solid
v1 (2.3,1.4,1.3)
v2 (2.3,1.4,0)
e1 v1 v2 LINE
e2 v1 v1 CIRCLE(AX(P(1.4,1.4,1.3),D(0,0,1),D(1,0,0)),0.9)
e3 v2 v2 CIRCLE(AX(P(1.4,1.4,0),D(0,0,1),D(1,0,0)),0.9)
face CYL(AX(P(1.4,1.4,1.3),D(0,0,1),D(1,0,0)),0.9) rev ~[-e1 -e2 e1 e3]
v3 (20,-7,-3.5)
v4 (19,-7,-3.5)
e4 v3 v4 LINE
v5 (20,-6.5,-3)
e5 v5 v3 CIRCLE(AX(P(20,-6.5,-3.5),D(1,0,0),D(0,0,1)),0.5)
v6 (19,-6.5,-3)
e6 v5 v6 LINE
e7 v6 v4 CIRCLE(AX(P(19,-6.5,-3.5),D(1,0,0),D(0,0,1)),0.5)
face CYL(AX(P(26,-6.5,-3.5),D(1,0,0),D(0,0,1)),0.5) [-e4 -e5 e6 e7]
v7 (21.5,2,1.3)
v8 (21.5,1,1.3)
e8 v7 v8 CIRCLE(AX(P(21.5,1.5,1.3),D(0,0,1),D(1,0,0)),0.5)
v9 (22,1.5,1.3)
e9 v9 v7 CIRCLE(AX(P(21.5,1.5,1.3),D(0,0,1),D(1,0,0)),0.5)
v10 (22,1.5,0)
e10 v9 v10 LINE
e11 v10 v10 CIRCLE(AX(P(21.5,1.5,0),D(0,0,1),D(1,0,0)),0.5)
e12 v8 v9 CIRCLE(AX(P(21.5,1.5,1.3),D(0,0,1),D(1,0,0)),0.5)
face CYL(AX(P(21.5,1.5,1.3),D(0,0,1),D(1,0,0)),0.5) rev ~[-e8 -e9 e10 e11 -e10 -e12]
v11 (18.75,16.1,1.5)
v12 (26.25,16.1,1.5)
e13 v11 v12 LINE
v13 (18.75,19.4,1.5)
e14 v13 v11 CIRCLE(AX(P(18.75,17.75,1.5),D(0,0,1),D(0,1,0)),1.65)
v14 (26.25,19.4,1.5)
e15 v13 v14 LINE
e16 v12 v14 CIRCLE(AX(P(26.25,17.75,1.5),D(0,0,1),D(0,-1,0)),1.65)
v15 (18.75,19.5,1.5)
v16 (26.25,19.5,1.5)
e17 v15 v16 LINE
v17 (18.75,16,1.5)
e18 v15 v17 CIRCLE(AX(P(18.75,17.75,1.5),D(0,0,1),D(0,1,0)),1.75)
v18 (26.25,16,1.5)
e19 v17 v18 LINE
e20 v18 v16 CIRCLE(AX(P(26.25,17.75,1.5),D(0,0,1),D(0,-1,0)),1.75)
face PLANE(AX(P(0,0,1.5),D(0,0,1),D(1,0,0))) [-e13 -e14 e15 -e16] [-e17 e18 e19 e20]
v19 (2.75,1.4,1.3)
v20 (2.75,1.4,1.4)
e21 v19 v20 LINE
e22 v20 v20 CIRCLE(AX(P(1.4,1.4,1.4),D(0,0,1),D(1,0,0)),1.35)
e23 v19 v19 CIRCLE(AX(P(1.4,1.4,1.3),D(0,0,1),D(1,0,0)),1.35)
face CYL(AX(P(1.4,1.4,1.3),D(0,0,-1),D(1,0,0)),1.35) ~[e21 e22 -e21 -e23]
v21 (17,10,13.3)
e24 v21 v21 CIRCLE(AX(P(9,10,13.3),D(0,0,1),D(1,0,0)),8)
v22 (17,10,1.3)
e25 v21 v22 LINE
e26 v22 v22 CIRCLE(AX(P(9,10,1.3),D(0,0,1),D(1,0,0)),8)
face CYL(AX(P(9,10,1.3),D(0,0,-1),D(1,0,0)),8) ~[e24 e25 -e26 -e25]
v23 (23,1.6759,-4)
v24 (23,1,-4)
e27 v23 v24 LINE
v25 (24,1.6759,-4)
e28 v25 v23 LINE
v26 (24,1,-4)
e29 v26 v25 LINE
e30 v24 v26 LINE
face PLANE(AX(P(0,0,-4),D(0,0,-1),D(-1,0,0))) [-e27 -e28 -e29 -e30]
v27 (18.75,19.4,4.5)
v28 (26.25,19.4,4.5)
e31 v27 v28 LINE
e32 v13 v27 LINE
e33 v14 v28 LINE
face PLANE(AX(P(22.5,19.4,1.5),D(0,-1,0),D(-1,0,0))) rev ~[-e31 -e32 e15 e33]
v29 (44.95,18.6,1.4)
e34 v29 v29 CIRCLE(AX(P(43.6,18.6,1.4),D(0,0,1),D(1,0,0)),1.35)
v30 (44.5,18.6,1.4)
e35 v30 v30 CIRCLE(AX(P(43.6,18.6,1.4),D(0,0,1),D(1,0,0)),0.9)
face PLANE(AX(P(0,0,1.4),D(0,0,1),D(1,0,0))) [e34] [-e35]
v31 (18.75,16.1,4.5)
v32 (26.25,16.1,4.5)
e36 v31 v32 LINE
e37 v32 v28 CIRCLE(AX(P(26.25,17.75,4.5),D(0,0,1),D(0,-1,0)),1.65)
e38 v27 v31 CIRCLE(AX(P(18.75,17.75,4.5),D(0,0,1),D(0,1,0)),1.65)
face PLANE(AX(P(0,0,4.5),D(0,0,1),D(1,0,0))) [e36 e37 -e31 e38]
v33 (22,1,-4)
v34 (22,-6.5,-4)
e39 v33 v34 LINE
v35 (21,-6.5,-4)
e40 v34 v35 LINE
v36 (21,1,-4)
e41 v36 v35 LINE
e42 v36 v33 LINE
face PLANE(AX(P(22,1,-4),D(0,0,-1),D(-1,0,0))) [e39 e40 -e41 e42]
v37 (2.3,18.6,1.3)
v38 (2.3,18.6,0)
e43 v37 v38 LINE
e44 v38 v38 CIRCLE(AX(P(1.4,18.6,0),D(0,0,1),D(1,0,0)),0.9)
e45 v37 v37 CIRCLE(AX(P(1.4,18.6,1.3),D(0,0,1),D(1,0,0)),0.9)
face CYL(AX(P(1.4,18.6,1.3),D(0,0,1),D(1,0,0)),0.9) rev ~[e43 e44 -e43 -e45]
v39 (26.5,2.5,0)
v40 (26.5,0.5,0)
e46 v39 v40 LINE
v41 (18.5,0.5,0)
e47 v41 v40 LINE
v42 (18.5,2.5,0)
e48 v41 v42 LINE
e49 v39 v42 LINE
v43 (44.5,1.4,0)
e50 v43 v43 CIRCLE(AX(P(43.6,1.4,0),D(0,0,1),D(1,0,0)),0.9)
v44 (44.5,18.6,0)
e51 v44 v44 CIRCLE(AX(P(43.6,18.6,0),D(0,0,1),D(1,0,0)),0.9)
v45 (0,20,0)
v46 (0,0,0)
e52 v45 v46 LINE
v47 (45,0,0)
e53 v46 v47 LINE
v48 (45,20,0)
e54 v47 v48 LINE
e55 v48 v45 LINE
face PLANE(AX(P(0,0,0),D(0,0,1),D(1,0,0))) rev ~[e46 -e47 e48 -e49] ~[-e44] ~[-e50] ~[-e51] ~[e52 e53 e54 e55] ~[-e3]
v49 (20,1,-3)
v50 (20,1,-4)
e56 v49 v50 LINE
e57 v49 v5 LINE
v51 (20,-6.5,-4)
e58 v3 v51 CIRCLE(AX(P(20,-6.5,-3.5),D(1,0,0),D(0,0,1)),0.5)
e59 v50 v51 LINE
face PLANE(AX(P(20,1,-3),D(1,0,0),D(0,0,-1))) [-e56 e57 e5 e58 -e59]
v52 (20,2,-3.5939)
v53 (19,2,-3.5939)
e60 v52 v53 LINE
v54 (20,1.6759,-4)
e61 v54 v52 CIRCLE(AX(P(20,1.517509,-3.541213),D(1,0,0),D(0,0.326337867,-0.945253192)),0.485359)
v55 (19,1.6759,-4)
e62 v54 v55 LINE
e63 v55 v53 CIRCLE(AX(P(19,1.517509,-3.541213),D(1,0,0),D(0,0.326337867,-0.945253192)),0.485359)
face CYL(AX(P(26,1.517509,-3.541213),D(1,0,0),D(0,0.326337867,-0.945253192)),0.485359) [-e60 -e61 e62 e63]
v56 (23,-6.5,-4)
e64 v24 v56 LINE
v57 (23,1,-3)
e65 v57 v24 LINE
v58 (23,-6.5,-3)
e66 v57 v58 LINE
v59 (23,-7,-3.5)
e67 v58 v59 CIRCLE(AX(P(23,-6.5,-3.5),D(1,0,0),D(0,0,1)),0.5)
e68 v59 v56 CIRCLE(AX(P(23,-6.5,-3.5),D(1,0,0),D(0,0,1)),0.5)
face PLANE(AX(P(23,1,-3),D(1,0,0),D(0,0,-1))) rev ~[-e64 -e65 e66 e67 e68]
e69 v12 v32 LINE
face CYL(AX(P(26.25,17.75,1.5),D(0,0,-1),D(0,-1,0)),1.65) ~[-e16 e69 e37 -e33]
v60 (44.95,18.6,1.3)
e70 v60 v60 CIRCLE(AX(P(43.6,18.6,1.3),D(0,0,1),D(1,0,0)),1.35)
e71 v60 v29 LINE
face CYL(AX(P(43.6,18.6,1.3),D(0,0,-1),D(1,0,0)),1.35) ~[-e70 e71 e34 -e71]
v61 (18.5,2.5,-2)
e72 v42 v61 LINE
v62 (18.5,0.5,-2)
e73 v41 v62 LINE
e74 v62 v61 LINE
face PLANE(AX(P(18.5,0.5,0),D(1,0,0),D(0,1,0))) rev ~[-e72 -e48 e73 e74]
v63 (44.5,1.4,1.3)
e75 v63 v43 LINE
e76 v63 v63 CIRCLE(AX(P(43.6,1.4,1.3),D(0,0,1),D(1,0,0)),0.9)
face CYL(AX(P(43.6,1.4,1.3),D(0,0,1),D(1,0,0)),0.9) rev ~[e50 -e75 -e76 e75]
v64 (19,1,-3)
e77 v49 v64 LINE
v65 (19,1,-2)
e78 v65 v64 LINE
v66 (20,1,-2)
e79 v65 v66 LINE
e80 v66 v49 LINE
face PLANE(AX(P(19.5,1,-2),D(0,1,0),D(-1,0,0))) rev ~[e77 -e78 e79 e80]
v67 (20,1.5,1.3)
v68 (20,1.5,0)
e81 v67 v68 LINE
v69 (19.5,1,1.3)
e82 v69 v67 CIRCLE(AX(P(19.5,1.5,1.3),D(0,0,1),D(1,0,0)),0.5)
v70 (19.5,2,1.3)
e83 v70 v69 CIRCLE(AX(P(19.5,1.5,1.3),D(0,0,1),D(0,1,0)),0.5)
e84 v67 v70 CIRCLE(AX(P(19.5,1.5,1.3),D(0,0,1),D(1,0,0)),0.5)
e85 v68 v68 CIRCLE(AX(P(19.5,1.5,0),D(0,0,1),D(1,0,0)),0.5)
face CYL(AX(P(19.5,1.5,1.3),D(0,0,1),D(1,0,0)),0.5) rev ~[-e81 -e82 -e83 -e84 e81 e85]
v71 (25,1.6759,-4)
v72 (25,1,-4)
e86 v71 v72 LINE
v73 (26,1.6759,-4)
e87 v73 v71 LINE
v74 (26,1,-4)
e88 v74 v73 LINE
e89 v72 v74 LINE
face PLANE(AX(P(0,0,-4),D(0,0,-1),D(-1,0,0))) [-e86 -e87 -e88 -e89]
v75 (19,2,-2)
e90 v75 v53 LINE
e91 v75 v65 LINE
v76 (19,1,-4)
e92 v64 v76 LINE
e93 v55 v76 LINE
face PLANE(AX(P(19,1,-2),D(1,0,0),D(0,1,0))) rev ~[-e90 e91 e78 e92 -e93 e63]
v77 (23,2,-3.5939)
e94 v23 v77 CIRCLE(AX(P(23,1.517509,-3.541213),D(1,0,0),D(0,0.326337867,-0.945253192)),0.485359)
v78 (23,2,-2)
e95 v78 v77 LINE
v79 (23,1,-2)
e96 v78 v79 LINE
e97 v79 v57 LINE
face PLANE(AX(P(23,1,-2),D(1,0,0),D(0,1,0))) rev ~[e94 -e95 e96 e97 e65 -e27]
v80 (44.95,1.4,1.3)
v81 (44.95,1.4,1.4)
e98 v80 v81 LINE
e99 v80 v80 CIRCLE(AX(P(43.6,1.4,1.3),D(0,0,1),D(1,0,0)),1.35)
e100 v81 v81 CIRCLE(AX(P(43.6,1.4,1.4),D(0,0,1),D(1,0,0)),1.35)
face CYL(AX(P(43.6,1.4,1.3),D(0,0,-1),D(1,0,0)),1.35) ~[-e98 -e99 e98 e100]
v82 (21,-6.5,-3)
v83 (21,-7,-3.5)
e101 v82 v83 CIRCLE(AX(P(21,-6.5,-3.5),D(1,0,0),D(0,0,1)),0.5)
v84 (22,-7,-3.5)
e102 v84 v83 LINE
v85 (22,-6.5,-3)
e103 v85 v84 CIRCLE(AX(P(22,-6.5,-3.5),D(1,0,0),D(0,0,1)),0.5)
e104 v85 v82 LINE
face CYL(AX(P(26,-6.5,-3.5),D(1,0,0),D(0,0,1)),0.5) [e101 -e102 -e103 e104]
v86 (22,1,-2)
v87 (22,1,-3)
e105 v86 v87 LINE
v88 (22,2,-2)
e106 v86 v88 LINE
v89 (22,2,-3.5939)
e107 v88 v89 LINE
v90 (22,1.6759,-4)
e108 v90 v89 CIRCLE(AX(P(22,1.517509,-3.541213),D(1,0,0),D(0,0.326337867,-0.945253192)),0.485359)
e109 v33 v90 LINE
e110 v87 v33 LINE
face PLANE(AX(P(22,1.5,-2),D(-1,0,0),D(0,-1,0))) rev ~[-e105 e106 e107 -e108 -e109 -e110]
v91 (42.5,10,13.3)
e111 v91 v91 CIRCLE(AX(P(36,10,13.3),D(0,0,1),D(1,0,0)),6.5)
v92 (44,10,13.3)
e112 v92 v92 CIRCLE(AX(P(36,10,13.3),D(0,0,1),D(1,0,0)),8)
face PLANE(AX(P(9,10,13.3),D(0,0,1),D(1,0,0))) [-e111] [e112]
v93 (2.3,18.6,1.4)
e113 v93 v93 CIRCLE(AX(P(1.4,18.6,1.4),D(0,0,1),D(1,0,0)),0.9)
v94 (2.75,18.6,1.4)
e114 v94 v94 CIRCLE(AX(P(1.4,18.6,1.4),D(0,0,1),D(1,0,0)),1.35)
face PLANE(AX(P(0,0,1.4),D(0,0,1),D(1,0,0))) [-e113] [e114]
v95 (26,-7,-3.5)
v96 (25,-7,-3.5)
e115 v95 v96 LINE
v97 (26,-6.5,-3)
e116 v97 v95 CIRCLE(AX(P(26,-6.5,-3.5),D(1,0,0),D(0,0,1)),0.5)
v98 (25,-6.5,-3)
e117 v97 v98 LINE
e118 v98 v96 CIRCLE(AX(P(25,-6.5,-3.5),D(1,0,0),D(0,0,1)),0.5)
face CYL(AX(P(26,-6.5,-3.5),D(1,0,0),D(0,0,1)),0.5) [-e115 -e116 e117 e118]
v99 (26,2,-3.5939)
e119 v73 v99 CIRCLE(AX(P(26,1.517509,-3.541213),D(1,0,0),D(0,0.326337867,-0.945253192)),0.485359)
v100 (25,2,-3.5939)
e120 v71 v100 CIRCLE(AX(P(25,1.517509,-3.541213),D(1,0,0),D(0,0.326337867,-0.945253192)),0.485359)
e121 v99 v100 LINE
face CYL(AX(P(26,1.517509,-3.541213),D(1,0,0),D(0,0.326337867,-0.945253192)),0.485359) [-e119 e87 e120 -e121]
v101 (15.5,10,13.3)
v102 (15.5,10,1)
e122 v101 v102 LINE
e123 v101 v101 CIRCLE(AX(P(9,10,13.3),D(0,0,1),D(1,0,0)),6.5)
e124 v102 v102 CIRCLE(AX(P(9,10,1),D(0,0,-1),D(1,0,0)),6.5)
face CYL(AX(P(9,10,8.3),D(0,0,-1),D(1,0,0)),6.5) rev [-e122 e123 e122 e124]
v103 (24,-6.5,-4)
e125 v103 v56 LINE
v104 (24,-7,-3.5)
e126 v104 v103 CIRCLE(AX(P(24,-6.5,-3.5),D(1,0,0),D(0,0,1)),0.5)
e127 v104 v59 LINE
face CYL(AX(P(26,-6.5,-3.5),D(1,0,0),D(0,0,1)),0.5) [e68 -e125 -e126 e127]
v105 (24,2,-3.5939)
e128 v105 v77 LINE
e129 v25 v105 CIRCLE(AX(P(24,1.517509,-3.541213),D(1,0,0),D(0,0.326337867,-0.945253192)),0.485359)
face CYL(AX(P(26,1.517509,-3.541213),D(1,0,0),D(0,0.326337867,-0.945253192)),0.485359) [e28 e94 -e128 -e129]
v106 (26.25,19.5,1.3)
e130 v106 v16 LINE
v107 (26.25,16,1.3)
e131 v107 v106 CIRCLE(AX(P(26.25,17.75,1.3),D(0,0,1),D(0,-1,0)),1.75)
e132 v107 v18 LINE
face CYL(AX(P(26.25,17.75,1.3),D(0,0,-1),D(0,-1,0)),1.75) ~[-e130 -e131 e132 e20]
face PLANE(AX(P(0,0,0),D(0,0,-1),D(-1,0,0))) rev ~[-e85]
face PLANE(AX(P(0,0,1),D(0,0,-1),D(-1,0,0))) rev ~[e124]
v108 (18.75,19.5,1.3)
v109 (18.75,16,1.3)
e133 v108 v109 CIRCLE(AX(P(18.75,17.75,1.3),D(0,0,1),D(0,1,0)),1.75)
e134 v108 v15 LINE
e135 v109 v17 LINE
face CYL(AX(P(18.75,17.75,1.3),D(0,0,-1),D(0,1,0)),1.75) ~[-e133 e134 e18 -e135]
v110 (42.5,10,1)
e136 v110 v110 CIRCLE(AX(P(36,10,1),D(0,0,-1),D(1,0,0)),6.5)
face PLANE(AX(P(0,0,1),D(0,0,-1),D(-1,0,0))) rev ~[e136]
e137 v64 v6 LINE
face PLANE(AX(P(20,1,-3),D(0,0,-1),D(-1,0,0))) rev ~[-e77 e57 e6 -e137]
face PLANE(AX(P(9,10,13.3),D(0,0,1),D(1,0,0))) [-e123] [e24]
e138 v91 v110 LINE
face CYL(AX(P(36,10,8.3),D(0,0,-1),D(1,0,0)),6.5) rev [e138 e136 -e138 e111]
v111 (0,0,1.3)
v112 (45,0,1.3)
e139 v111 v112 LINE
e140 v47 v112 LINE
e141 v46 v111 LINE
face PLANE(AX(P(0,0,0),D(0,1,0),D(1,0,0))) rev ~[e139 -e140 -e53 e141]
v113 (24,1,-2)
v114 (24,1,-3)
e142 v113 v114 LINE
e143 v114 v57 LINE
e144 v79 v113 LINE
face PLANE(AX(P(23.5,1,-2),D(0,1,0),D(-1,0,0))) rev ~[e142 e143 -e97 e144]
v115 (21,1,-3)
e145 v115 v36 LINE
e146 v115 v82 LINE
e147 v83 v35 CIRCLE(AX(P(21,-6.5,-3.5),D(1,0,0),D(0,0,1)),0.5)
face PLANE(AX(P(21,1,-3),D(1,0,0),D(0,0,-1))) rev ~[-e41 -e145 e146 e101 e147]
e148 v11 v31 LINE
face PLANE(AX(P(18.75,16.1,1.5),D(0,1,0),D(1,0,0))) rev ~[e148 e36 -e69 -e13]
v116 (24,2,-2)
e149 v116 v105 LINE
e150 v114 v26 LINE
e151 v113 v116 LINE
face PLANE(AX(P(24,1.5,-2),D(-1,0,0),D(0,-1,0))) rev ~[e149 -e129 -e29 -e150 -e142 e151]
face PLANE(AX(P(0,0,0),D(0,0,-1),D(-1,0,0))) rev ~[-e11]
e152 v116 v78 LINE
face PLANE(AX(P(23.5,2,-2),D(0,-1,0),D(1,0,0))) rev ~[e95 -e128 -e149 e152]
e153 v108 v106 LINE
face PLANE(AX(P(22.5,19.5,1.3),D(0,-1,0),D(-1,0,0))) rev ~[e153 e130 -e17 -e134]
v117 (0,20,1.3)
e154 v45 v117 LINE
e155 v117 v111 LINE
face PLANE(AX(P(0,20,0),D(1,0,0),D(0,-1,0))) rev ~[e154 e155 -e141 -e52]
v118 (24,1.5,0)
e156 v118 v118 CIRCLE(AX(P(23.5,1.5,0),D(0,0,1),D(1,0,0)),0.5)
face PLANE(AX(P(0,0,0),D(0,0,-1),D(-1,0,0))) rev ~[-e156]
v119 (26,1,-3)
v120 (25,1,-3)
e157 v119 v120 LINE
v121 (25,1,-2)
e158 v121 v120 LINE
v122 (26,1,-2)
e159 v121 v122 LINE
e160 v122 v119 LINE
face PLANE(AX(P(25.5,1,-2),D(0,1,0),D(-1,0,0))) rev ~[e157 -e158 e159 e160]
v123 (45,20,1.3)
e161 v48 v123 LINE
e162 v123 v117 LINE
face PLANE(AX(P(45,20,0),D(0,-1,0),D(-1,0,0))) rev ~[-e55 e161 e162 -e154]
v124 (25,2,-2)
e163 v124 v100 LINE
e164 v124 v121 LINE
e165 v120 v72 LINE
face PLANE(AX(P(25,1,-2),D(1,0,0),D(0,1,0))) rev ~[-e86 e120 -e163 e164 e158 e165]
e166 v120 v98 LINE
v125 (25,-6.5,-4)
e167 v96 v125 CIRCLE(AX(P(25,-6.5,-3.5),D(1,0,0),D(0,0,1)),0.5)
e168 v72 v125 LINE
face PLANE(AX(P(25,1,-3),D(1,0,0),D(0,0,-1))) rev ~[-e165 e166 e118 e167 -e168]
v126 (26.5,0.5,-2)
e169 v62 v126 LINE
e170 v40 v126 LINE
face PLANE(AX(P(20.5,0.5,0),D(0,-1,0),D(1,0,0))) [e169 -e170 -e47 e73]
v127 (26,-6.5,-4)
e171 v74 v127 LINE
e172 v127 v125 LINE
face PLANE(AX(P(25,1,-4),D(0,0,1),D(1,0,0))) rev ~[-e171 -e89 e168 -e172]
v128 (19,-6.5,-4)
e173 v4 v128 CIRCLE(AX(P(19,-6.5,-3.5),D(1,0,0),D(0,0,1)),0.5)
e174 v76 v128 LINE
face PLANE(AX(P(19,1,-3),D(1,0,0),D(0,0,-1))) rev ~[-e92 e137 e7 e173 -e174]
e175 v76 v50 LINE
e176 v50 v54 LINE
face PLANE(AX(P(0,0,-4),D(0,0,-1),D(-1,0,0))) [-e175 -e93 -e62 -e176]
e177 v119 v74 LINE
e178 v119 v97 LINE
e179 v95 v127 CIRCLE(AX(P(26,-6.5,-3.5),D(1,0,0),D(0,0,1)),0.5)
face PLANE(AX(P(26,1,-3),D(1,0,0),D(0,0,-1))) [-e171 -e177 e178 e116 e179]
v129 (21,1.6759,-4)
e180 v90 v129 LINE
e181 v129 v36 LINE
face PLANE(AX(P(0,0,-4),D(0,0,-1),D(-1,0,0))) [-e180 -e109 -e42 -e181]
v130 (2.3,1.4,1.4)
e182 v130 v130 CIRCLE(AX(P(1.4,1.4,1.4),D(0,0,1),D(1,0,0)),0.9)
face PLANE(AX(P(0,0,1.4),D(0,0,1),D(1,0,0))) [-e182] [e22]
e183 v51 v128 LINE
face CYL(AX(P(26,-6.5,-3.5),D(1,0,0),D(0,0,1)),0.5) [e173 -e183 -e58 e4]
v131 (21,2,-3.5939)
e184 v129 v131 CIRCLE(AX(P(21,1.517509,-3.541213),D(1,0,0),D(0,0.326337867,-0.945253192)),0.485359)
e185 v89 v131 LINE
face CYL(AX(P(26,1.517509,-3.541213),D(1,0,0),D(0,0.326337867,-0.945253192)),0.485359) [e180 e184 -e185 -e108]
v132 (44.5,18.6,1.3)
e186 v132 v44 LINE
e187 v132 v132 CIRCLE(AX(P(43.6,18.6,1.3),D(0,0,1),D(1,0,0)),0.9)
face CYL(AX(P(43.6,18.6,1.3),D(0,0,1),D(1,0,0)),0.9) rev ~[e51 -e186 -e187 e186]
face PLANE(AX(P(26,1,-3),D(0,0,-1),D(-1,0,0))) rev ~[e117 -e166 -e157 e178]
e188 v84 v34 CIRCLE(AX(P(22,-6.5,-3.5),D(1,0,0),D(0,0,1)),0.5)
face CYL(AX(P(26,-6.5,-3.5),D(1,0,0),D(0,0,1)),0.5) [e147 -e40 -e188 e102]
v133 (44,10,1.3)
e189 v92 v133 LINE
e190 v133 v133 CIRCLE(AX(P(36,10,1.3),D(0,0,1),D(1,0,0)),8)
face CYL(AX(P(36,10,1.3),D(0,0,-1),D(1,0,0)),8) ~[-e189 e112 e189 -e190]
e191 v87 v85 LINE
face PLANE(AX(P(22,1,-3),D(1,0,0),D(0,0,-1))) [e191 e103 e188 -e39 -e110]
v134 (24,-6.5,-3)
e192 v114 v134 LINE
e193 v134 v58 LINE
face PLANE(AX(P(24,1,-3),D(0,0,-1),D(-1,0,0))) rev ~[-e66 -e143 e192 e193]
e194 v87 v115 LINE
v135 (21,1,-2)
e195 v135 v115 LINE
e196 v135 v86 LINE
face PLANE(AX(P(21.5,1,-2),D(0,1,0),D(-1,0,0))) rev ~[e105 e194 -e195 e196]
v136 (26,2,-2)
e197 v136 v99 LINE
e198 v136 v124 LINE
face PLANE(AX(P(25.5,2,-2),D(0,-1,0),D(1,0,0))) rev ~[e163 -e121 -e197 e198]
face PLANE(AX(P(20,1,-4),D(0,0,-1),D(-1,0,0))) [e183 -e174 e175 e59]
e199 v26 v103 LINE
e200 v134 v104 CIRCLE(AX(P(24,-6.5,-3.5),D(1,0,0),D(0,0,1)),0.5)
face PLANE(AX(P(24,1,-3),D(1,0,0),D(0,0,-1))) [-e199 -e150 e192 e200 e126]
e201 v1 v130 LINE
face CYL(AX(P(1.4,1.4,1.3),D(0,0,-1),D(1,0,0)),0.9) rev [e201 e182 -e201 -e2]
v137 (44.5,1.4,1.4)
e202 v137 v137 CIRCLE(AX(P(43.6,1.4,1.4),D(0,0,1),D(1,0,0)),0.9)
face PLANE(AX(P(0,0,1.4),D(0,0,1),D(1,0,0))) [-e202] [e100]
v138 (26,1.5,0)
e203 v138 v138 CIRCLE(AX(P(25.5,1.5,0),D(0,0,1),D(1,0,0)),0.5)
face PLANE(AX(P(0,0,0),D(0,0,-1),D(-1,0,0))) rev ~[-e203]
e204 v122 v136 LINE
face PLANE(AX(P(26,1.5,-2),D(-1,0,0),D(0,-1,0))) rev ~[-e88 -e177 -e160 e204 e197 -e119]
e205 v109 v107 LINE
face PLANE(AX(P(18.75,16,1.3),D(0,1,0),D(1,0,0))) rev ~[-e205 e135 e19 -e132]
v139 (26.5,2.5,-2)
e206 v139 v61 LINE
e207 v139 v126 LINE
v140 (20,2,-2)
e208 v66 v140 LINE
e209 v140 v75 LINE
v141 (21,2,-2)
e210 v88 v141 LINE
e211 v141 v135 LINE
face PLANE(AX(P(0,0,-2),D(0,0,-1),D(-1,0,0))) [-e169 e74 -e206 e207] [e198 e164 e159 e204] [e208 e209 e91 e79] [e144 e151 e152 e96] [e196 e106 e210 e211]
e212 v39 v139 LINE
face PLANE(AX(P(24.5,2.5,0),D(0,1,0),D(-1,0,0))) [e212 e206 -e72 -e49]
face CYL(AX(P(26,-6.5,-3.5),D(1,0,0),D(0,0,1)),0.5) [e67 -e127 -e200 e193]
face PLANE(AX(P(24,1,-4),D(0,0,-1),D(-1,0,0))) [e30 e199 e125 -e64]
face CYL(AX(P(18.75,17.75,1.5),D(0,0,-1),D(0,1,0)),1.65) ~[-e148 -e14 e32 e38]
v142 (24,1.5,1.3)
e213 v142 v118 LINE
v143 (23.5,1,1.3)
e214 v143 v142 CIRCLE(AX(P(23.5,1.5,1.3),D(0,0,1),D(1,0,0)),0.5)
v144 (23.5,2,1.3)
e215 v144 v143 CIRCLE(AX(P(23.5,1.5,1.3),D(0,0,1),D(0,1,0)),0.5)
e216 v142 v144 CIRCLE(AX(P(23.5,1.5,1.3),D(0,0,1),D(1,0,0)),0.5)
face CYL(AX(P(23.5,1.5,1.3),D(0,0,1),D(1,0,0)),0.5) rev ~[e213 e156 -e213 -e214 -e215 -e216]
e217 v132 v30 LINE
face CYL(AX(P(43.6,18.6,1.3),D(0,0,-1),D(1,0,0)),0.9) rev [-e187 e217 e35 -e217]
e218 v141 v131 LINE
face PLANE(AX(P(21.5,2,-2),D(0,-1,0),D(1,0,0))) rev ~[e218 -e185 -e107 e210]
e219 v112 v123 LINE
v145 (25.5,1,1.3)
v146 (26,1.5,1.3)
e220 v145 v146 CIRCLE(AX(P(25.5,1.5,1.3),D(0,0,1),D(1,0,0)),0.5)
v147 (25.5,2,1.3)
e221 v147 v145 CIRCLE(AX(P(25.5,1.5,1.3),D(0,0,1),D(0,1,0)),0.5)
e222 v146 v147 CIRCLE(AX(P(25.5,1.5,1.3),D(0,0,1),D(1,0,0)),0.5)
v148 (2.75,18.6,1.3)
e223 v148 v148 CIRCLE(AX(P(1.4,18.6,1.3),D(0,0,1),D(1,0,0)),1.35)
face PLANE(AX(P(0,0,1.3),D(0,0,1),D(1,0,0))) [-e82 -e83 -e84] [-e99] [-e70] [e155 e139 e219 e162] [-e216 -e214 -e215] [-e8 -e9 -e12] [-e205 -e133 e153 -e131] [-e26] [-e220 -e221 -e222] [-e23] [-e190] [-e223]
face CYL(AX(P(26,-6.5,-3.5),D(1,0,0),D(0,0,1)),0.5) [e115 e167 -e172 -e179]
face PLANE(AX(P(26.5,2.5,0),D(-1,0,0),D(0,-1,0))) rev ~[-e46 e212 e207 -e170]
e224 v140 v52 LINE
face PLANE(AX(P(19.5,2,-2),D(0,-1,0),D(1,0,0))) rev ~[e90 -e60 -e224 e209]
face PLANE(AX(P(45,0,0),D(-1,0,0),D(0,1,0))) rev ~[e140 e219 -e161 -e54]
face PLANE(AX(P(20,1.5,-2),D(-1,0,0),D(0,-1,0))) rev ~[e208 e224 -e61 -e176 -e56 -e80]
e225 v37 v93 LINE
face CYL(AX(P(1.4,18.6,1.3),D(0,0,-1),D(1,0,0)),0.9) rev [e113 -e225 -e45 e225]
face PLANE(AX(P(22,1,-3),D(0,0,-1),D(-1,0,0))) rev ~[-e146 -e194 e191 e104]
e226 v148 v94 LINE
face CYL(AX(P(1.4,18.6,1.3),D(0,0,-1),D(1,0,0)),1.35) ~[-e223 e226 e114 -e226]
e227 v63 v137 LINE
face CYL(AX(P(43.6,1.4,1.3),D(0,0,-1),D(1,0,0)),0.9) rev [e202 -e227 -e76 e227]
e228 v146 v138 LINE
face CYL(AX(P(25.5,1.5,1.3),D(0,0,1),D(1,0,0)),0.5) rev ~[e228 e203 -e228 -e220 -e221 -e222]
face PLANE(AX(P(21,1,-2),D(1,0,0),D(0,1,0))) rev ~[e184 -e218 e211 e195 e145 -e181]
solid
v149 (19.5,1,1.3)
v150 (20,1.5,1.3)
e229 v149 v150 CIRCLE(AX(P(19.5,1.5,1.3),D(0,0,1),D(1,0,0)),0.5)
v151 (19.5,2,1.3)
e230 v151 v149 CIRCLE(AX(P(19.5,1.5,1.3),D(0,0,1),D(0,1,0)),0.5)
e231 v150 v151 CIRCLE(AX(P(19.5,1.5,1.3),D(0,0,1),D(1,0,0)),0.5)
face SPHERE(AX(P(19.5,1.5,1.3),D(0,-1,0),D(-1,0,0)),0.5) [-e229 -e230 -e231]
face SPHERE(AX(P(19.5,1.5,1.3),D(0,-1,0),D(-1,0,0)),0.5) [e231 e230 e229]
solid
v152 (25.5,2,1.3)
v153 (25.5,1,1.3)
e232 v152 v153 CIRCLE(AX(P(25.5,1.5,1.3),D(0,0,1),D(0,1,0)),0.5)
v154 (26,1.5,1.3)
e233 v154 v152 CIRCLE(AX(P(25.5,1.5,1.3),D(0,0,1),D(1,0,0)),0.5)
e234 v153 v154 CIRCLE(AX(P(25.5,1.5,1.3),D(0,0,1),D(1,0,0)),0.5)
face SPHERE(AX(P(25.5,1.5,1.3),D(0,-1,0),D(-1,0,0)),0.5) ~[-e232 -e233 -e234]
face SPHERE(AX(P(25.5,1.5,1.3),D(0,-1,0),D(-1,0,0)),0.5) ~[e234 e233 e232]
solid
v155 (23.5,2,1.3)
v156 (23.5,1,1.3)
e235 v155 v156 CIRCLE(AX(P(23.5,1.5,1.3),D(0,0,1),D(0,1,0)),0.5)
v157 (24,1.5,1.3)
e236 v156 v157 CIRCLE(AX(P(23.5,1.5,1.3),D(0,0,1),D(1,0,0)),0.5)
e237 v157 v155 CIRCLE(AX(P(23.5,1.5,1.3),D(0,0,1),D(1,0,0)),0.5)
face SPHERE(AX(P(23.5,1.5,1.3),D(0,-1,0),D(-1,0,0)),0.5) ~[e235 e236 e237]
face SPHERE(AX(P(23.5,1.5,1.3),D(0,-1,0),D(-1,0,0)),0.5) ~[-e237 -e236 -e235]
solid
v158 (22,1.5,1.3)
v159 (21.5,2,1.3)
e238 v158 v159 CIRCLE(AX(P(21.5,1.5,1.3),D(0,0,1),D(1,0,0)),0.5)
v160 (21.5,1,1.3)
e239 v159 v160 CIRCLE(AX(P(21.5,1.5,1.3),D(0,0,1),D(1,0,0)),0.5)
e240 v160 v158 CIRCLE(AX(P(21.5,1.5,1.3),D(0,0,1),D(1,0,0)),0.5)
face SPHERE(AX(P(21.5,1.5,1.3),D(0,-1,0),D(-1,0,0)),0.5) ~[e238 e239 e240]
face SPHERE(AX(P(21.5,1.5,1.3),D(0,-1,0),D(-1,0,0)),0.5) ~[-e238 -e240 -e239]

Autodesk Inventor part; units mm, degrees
ref_plane "YZ Plane" through (0, 0, 0) normal (1, 0, 0) x (0, 1, 0)
ref_plane "XZ Plane" through (0, 0, 0) normal (0, 1, 0) x (-1, 0, 0)
ref_plane "XY Plane" through (0, 0, 0) normal (0, 0, 1) x (1, 0, 0)
sketch "Sketch1" plane through (0, 0, 0) normal (0, 0, 1) x (1, 0, 0)
  line L0 (0, 0) -> (45, 0)
  line L1 (45, 0) -> (45, 20)
  line L2 (45, 20) -> (0, 20)
  line L3 (0, 20) -> (0, 0)
  line L4 (0, 0) -> (45, 0)
  line L5 (45, 0) -> (45, 20)
  dimension "d0" = 45
  dimension "d1" = 20
extrude "Extrusion1" add sketch "Sketch1" along normal blind 1.3
sketch "Sketch2" plane through (0, 0, 1.3) normal (0, 0, 1) x (1, 0, 0)
  line L0 (0, 20) -> (0, 0)
  line L1 (0, 20) -> (0, 0) projected
  circle A0 centre (9, 10) radius 8
  line L2 (0, 0) -> (45, 0) projected
  line L3 (22.5, 0) -> (22.5, 16.923)
  circle A1 centre (36, 10) radius 8
extrude "Extrusion2" add sketch "Sketch2" along normal blind 7
sketch "Sketch3" plane through (0, 0, 1.3) normal (0, 0, 1) x (1, 0, 0)
  line L0 (0, 0) -> (45, 0) projected
  line L1 (22.5, 0) -> (22.5, 3.8703)
  line L2 (22.5, 0) -> (22.5, 1.5)
  circle A0 centre (23.5, 1.5) radius 0.5
  circle A1 centre (25.5, 1.5) radius 0.5
  circle A2 centre (21.5, 1.5) radius 0.5
  circle A3 centre (19.5, 1.5) radius 0.5
extrude "Extrusion3" cut sketch "Sketch3" against normal blind 7
sketch "Sketch4" plane through (0, 0, 1.3) normal (0, 0, 1) x (1, 0, 0)
  line L0 (0, 0) -> (0.5, 0)
  line L1 (0, 0) -> (45, 0) projected
  line L2 (0.5, 0) -> (0.5, 0.5)
  circle A0 centre (1.4, 1.4) radius 0.9
  line L3 (0, 20) -> (0, 0) projected
  line L4 (0, 20) -> (0, 0) projected
  line L5 (45, 20) -> (0, 20) projected
  line L6 (0, 20) -> (0.5, 20)
  line L7 (0.5, 20) -> (0.5, 19.5)
  circle A1 centre (1.4, 18.6) radius 0.9
  line L8 (45, 0) -> (44.5, 0)
  line L9 (44.5, 0) -> (44.5, 0.5)
  circle A2 centre (43.6, 1.4) radius 0.9
  line L10 (45, 20) -> (45, 0)
  line L11 (45, 20) -> (45, 0)
  line L12 (45, 20) -> (44.5, 20)
  line L13 (44.5, 20) -> (44.5, 19.5)
  circle A3 centre (43.6, 18.6) radius 0.9
extrude "Extrusion4" cut sketch "Sketch4" against normal blind 7 contours A0 | A1 | A2 | A3
sketch "Sketch5" plane through (9, 10, 8.3) normal (0, 0, 1) x (1, 0, 0)
  circle A0 centre (27, 0) radius 8 projected
  circle A1 centre (0, 0) radius 8 projected
  circle A2 centre (0, 0) radius 6.5
  circle A3 centre (27, 0) radius 6.5
  point P0 (-9, -10)
  dimension "d21" = 13
  dimension "d22" = 13
extrude "Extrusion5" cut sketch "Sketch5" against normal blind 10 contours A2 | A3
sketch "Sketch6" plane through (9, 10, 8.3) normal (0, 0, 1) x (1, 0, 0)
  circle A0 centre (27, 0) radius 6.5 projected
  circle A1 centre (27, 0) radius 8 projected
  circle A2 centre (0, 0) radius 6.5 projected
  circle A3 centre (0, 0) radius 8 projected
  point P0 (-9, -10)
extrude "Extrusion6" add sketch "Sketch6" along normal blind 5
sketch "Sketch7" plane through (0, 0, 0) normal (0, 0, -1) x (-1, 0, 0)
  circle A0 centre (-36, 10) radius 6.5 projected
  circle A1 centre (-9, 10) radius 6.5 projected
  circle A2 centre (-43.6, 1.4) radius 0.9 projected
  circle A3 centre (-1.4, 1.4) radius 0.9 projected
  circle A4 centre (-1.4, 18.6) radius 0.9 projected
  circle A5 centre (-43.6, 18.6) radius 0.9 projected
  circle A6 centre (-21.5, 1.5) radius 0.5 projected
  circle A7 centre (-23.5, 1.5) radius 0.5 projected
  circle A8 centre (-25.5, 1.5) radius 0.5 projected
  circle A9 centre (-19.5, 1.5) radius 0.5 projected
  line L0 (0, 0) -> (-45, 0) projected
  line L1 (0, 20) -> (0, 0) projected
  line L2 (-45, 20) -> (0, 20) projected
  line L3 (-45, 0) -> (-45, 20) projected
extrude "Extrusion7" add sketch "Sketch7" against normal blind 1 contours A0 | A1
sketch "Sketch8" plane through (0, 0, 1.3) normal (0, 0, 1) x (1, 0, 0)
  circle A0 centre (43.6, 1.4) radius 0.9 projected
  circle A1 centre (1.4, 1.4) radius 0.9 projected
  circle A2 centre (1.4, 18.6) radius 0.9 projected
  circle A3 centre (43.6, 18.6) radius 0.9 projected
  circle A4 centre (21.5, 1.5) radius 0.5 projected
  circle A5 centre (23.5, 1.5) radius 0.5 projected
  circle A6 centre (25.5, 1.5) radius 0.5 projected
  circle A7 centre (19.5, 1.5) radius 0.5 projected
  circle A8 centre (9, 10) radius 8 projected
  circle A9 centre (36, 10) radius 8 projected
  line L0 (0, 0) -> (45, 0) projected
  line L1 (45, 0) -> (45, 20) projected
  line L2 (45, 20) -> (0, 20) projected
  line L3 (0, 20) -> (0, 0) projected
  line L4 (45, 20) -> (0, 20) projected
  line L5 (22.5, 20) -> (28, 20)
  line L6 (28, 20) -> (17, 20)
  line L7 (22.5, 20) -> (22.5, 19.5)
  line L8 (22.5, 19.5) -> (26.25, 19.5)
  line L9 (18.75, 16) -> (26.25, 16)
  arc A10 (26.25, 16) -> (26.25, 19.5) centre (26.25, 17.75) ccw
  line L10 (22.5, 19.5) -> (18.75, 19.5)
  arc A11 (18.75, 19.5) -> (18.75, 16) centre (18.75, 17.75) ccw
  line L11 (26.25, 19.5) -> (18.75, 19.5)
  line L12 (17, 19.5) -> (16.3922, 19.5)
extrude "Extrusion8" add sketch "Sketch8" along normal blind 0.2 contours L8 A10 L9 A11 L10
sketch "Sketch9" plane through (0, 0, 1.5) normal (0, 0, 1) x (1, 0, 0)
  line L0 (26.25, 19.5) -> (18.75, 19.5) projected
  arc A0 (18.75, 19.5) -> (18.75, 16) centre (18.75, 17.75) ccw projected
  line L1 (18.75, 16) -> (26.25, 16) projected
  arc A1 (26.25, 16) -> (26.25, 19.5) centre (26.25, 17.75) ccw projected
  line L2 (26.25, 19.5) -> (18.75, 19.5) projected
  line L3 (22.5, 19.5) -> (22.5, 19.4)
  line L4 (22.5, 19.4) -> (26.25, 19.4)
  line L5 (22.5, 19.4) -> (18.75, 19.4)
  line L6 (18.75, 16) -> (18.75, 16.1)
  line L7 (18.75, 16) -> (18.85, 16) construction
  line L8 (18.75, 16.1) -> (26.25, 16.1)
  arc A2 (18.75, 19.4) -> (18.75, 16.1) centre (18.75, 17.75) ccw
  arc A3 (26.25, 16.1) -> (26.25, 19.4) centre (26.25, 17.75) ccw
  point P0 (0, 0)
extrude "Extrusion9" add sketch "Sketch9" along normal blind 3 contours L4 A3 L8 A2 L5
sketch "Sketch10" plane through (0, 0, 1.3) normal (0, 0, 1) x (1, 0, 0)
  circle A0 centre (1.4, 18.6) radius 0.9 projected
  circle A1 centre (1.4, 18.6) radius 1.35
  arc A2 (26.25, 16) -> (26.25, 19.5) centre (26.25, 17.75) ccw projected
  line L0 (26.25, 16) -> (18.75, 16) projected
  arc A3 (18.75, 19.5) -> (18.75, 16) centre (18.75, 17.75) ccw projected
  line L1 (18.75, 19.5) -> (26.25, 19.5) projected
  circle A4 centre (43.6, 1.4) radius 0.9 projected
  circle A5 centre (1.4, 1.4) radius 0.9 projected
  circle A6 centre (1.4, 18.6) radius 0.9 projected
  circle A7 centre (43.6, 18.6) radius 0.9 projected
  circle A8 centre (21.5, 1.5) radius 0.5 projected
  circle A9 centre (23.5, 1.5) radius 0.5 projected
  circle A10 centre (25.5, 1.5) radius 0.5 projected
  circle A11 centre (19.5, 1.5) radius 0.5 projected
  circle A12 centre (9, 10) radius 8 projected
  circle A13 centre (36, 10) radius 8 projected
  line L2 (0, 0) -> (45, 0) projected
  line L3 (45, 0) -> (45, 20) projected
  line L4 (45, 20) -> (0, 20) projected
  line L5 (0, 20) -> (0, 0) projected
  circle A14 centre (1.4, 1.4) radius 1.35
  circle A15 centre (43.6, 1.4) radius 1
  circle A16 centre (43.6, 18.6) radius 1.35
  dimension "d44" = 2.7
  dimension "d45" = 2.7
  dimension "d46" = 2
  dimension "d47" = 2.7
extrude "Extrusion10" add sketch "Sketch10" along normal blind 0.1 contours A1 | A14 | A16
sketch "Sketch11" plane through (0, 0, 1.3) normal (0, 0, 1) x (1, 0, 0)
  circle A0 centre (43.6, 1.4) radius 0.9 projected
  circle A1 centre (43.6, 1.4) radius 1.35
  point P0 (0, 0)
  dimension "d50" = 2.7
extrude "Extrusion11" add sketch "Sketch11" along normal blind 0.1
sketch "Sketch12" plane through (0, 0, 1.3) normal (0, 0, 1) x (1, 0, 0)
  circle A0 centre (19.5, 1.5) radius 0.5 projected
  circle A1 centre (21.5, 1.5) radius 0.5 projected
  circle A2 centre (23.5, 1.5) radius 0.5 projected
  circle A3 centre (25.5, 1.5) radius 0.5 projected
  line L0 (19.5, 0.8729) -> (19.5, 2)
  line L1 (21.5, 1) -> (21.5, 2)
  line L2 (23.5, 1) -> (23.5, 2)
  line L3 (25.5, 1) -> (25.5, 2)
  circle A4 centre (25.5, 1.5) radius 0.5 projected
  circle A5 centre (25.5, 1.5) radius 0.5 projected
  point P0 (0, 0)
revolve "Revolution1" add sketch "Sketch12" angle 360 about axis through (21.5, 1, 1.3) along (0, 1, 0) picked at (21.3442, 1.4409) contours L1 A1
sketch "Sketch13" plane through (0, 0, 1.3) normal (0, 0, 1) x (1, 0, 0)
  circle A0 centre (43.6, 1.4) radius 1.35 projected
  circle A1 centre (43.6, 18.6) radius 1.35 projected
  circle A2 centre (1.4, 18.6) radius 1.35 projected
  circle A3 centre (1.4, 1.4) radius 1.35 projected
  arc A4 (26.25, 16) -> (26.25, 19.5) centre (26.25, 17.75) ccw projected
  line L0 (26.25, 16) -> (18.75, 16) projected
  arc A5 (18.75, 19.5) -> (18.75, 16) centre (18.75, 17.75) ccw projected
  line L1 (18.75, 19.5) -> (26.25, 19.5) projected
  circle A6 centre (21.5, 1.5) radius 0.5 projected
  circle A7 centre (23.5, 1.5) radius 0.5 projected
  circle A8 centre (25.5, 1.5) radius 0.5 projected
  circle A9 centre (19.5, 1.5) radius 0.5 projected
  circle A10 centre (9, 10) radius 8 projected
  circle A11 centre (36, 10) radius 8 projected
  line L2 (0, 0) -> (45, 0) projected
  line L3 (45, 0) -> (45, 20) projected
  line L4 (45, 20) -> (0, 20) projected
  line L5 (0, 20) -> (0, 0) projected
  circle A12 centre (23.5, 1.5) radius 0.5 projected
  line L6 (23.5, 1.5) -> (23.5, 1)
  line L7 (23.5, 1.5) -> (24, 1.5) construction
  line L8 (23.5, 1) -> (23.5, 2.2277)
  line L9 (25.5, 1.5) -> (25.5, 2)
  line L10 (19.5, 1.1367) -> (19.5, 2.962)
  line L11 (19.5, 2.962) -> (19.5, 0.5552)
  circle A13 centre (19.5, 1.5) radius 0.5 projected
  arc A14 (19.5, 2) -> (19.5, 1) centre (19.5, 1.5) ccw
  dimension "d54" = 90
revolve "Revolution2" add sketch "Sketch13" angle 360 about axis through (19.5, 2.962, 1.3) along (0, -1, 0) picked at (19.4601, 1.7074) contours L10 L11 A9
sketch "Sketch14" plane through (0, 0, 1.3) normal (0, 0, 1) x (1, 0, 0)
  circle A0 centre (23.5, 1.5) radius 0.5 projected
  line L0 (23.5, 0.6366) -> (23.5, 2.6305)
  arc A1 (23.5, 2) -> (23.5, 1) centre (23.5, 1.5) ccw
  point P0 (0, 0)
revolve "Revolution3" add sketch "Sketch14" angle 360 about axis through (23.5, 0.6366, 1.3) along (0, 1, 0) picked at (23.3442, 1.4409) contours L0 A0
sketch "Sketch15" plane through (0, 0, 1.3) normal (0, 0, 1) x (1, 0, 0)
  line L0 (25.5, 1) -> (25.5, 2)
  arc A0 (25.5, 2) -> (25.5, 1) centre (25.5, 1.5) ccw
  point P0 (0, 0)
revolve "Revolution4" add sketch "Sketch15" angle 360 about axis through (25.5, 1, 1.3) along (0, 1, 0)
sketch "Sketch16" plane through (0, 0, 0) normal (0, 0, -1) x (-1, 0, 0)
  circle A0 centre (-43.6, 1.4) radius 0.9 projected
  circle A1 centre (-1.4, 1.4) radius 0.9 projected
  circle A2 centre (-1.4, 18.6) radius 0.9 projected
  circle A3 centre (-43.6, 18.6) radius 0.9 projected
  circle A4 centre (-21.5, 1.5) radius 0.5 projected
  circle A5 centre (-23.5, 1.5) radius 0.5 projected
  circle A6 centre (-25.5, 1.5) radius 0.5 projected
  circle A7 centre (-19.5, 1.5) radius 0.5 projected
  line L0 (0, 0) -> (-45, 0) projected
  line L1 (0, 20) -> (0, 0) projected
  line L2 (-45, 20) -> (0, 20) projected
  line L3 (-45, 0) -> (-45, 20) projected
  line L4 (-18.5, 2.5) -> (-20.5, 2.5)
  line L5 (-20.5, 2.5) -> (-20.5, 0.5)
  line L6 (-20.5, 0.5) -> (-18.5, 0.5)
  line L7 (-18.5, 0.5) -> (-18.5, 2.5)
  line L8 (-18.5, 2.5) -> (-20.5, 0.5) construction
  line L9 (-20.5, 2.5) -> (-18.5, 0.5) construction
  line L10 (-24.5, 2.5) -> (-26.5, 2.5)
  line L11 (-26.5, 2.5) -> (-26.5, 0.5)
  line L12 (-26.5, 0.5) -> (-24.5, 0.5)
  line L13 (-24.5, 0.5) -> (-24.5, 2.5)
  line L14 (-24.5, 2.5) -> (-26.5, 0.5) construction
  line L15 (-26.5, 2.5) -> (-24.5, 0.5) construction
  line L16 (-18.5, 0.5) -> (-26.5917, 0.5)
  line L17 (-18.5, 2.5917) -> (-18.5, 0.5)
  line L18 (-26.5917, 0.5) -> (-18.5, 0.5)
  line L19 (-18.5, 0.5) -> (-18.5, 2.5917)
  line L20 (-18.5, 0.5) -> (-26.5, 0.5)
  line L21 (-26.5, 0.5) -> (-26.5, 2.5)
  line L22 (-26.5, 2.5) -> (-18.5, 2.5)
  line L23 (-18.5, 2.5) -> (-18.5, 0.5)
  dimension "d58" = 2
  dimension "d59" = 2
  dimension "d60" = 2
  dimension "d61" = 2
extrude "Extrusion12" add sketch "Sketch16" along normal blind 2 contours A4 | A5 | A6 | A7 | L7 L6 L5 L4 | L5 L16 L13 L22 | L13 L12 L11 L10
sketch "Sketch17" plane through (0, 0, -2) normal (0, 0, -1) x (-1, 0, 0)
  point P0 (0, 0)
sketch "Sketch18" plane through (0, 0, -2) normal (0, 0, -1) x (-1, 0, 0)
  point P0 (0, 0)
sketch "Sketch19" plane through (0, 0, -2) normal (0, 0, -1) x (-1, 0, 0)
  line L0 (-26.5, 2.5) -> (-26.5, 0.5) projected
  line L1 (-26.5, 0.5) -> (-18.5, 0.5) projected
  line L2 (-18.5, 0.5) -> (-18.5, 2.5) projected
  line L3 (-18.5, 2.5) -> (-26.5, 2.5) projected
  circle A0 centre (-19.5, 1.5) radius 0.5 projected
  circle A1 centre (-21.5, 1.5) radius 0.5 projected
  circle A2 centre (-23.5, 1.5) radius 0.5 projected
  circle A3 centre (-25.5, 1.5) radius 0.5 projected
  line L4 (-19, 2) -> (-20, 2)
  line L5 (-20, 2) -> (-20, 1)
  line L6 (-20, 1) -> (-19, 1)
  line L7 (-19, 1) -> (-19, 2)
  line L8 (-19, 2) -> (-20, 1) construction
  line L9 (-20, 2) -> (-19, 1) construction
  line L10 (-21, 2) -> (-22, 2)
  line L11 (-22, 2) -> (-22, 1)
  line L12 (-22, 1) -> (-21, 1)
  line L13 (-21, 1) -> (-21, 2)
  line L14 (-21, 2) -> (-22, 1) construction
  line L15 (-22, 2) -> (-21, 1) construction
  line L16 (-23, 2) -> (-24, 2)
  line L17 (-24, 2) -> (-24, 1)
  line L18 (-24, 1) -> (-23, 1)
  line L19 (-23, 1) -> (-23, 2)
  line L20 (-23, 2) -> (-24, 1) construction
  line L21 (-24, 2) -> (-23, 1) construction
  line L22 (-25, 2) -> (-26, 2)
  line L23 (-26, 2) -> (-26, 1)
  line L24 (-26, 1) -> (-25, 1)
  line L25 (-25, 1) -> (-25, 2)
  line L26 (-25, 2) -> (-26, 1) construction
  line L27 (-26, 2) -> (-25, 1) construction
  point P0 (0, 0)
extrude "Extrusion13" add sketch "Sketch19" along normal blind 2 contours A0 | L7 L6 A0 | A0 L4 L7 | A0 L5 L4 | L6 L5 A0 | A1 | L13 L12 A1 | A1 L10 L13 | A1 L11 L10 | L12 L11 A1 | A2 | L19 L18 A2 | A2 L16 L19 | A2 L17 L16 | L18 L17 A2 | A3 | L25 L24 A3 | A3 L22 L25 | A3 L23 L22 | L24 L23 A3
sketch "Sketch20" plane through (25, 1, -2) normal (0, -1, 0) x (1, 0, 0)
  line L0 (-2, 0) -> (-1, 0) projected
  line L1 (-2, 0) -> (-2, -2) projected
  line L2 (-1, -2) -> (-2, -2) projected
  line L3 (-1, 0) -> (-1, -2) projected
  line L4 (-4, 0) -> (-4, -2) projected
  line L5 (-4, 0) -> (-3, 0) projected
  line L6 (-4, 0) -> (-4, -2) projected
  line L7 (-3, -2) -> (-4, -2) projected
  line L8 (-3, 0) -> (-3, -2) projected
  line L9 (-6, 0) -> (-5, 0) projected
  line L10 (-6, 0) -> (-6, -2) projected
  line L11 (-5, -2) -> (-6, -2) projected
  line L12 (-5, 0) -> (-5, -2) projected
  line L13 (-5, 0) -> (-5, -2) projected
  line L14 (-6, -2) -> (-5, -2)
  line L15 (-5, -2) -> (-5, -1)
  line L16 (-5, -1) -> (-6, -1)
  line L17 (-6, -1) -> (-6, -2)
  line L18 (-4, -2) -> (-3, -2)
  line L19 (-3, -2) -> (-3, -1)
  line L20 (-3, -1) -> (-4, -1)
  line L21 (-4, -1) -> (-4, -2)
  line L22 (-1, 0) -> (-1, -2) projected
  line L23 (-2, -2) -> (-1, -2)
  line L24 (-1, -2) -> (-1, -1)
  line L25 (-1, -1) -> (-2, -1)
  line L26 (-2, -1) -> (-2, -2)
  line L27 (1, 0) -> (1, -2) projected
  line L28 (0, -2) -> (1, -2)
  line L29 (1, -2) -> (1, -1)
  line L30 (1, -1) -> (0, -1)
  line L31 (0, -1) -> (0, -2)
  point P0 (-25, 2)
extrude "Extrusion14" add sketch "Sketch20" along normal blind 8 contours L25 L3 L2 L1 | L20 L8 L7 L4 | L16 L12 L11 L10 | L27 L28 L31 L30
sketch "Sketch21" plane through (26, 1, -2) normal (1, 0, 0) x (0, 0, -1)
  line L0 (0, 0) -> (0, 1) projected
  line L1 (0, 0) -> (1, 0) projected
  line L2 (1, 0) -> (1, -8) projected
  line L3 (2, -8) -> (1, -8) projected
  line L4 (2, 1) -> (2, -8) projected
  line L5 (0, 1) -> (2, 1) projected
  line L6 (2, 1) -> (2, -8) projected
  line L7 (0, 1) -> (2, 1) projected
  arc A0 (2, 0.6759) -> (1.5939, 1) centre (1.5412, 0.5175) ccw
  line L8 (1, 0) -> (1, -8) projected
  line L9 (0, 0) -> (1, 0) projected
  line L10 (2, -8) -> (1, -8) projected
  line L11 (1.5, -8) -> (2, -8)
  line L12 (1.5, -8) -> (1.5, -7.5)
  arc A1 (1, -7.5) -> (2, -7.5) centre (1.5, -7.5) ccw
  point P0 (-2, -1)
  dimension "d68" = 0.5
  dimension "d69" = 0.5
extrude "Extrusion15" cut sketch "Sketch21" against normal blind 80 contours L5 L4 A0 | A1 L3 L2 | A1 L4 L3
sketch "Sketch22" plane through (0, 0, 1.3) normal (0, 0, 1) x (1, 0, 0)
  point P0 (0, 0)
sketch "Sketch23" plane through (0, 0, 1.3) normal (0, 0, 1) x (1, 0, 0)
  circle A0 centre (1.4, 18.6) radius 0.9 projected
  circle A1 centre (43.6, 1.4) radius 1.35 projected
  circle A2 centre (43.6, 18.6) radius 1.35 projected
  circle A3 centre (1.4, 18.6) radius 1.35 projected
  circle A4 centre (1.4, 1.4) radius 1.35 projected
  arc A5 (26.25, 16) -> (26.25, 19.5) centre (26.25, 17.75) ccw projected
  line L0 (26.25, 16) -> (18.75, 16) projected
  arc A6 (18.75, 19.5) -> (18.75, 16) centre (18.75, 17.75) ccw projected
  line L1 (18.75, 19.5) -> (26.25, 19.5) projected
  circle A7 centre (21.5, 1.5) radius 0.5 projected
  circle A8 centre (23.5, 1.5) radius 0.5 projected
  circle A9 centre (25.5, 1.5) radius 0.5 projected
  circle A10 centre (19.5, 1.5) radius 0.5 projected
  circle A11 centre (9, 10) radius 8 projected
  circle A12 centre (36, 10) radius 8 projected
  line L2 (0, 0) -> (45, 0) projected
  line L3 (45, 0) -> (45, 20) projected
  line L4 (45, 20) -> (0, 20) projected
  line L5 (0, 20) -> (0, 0) projected
